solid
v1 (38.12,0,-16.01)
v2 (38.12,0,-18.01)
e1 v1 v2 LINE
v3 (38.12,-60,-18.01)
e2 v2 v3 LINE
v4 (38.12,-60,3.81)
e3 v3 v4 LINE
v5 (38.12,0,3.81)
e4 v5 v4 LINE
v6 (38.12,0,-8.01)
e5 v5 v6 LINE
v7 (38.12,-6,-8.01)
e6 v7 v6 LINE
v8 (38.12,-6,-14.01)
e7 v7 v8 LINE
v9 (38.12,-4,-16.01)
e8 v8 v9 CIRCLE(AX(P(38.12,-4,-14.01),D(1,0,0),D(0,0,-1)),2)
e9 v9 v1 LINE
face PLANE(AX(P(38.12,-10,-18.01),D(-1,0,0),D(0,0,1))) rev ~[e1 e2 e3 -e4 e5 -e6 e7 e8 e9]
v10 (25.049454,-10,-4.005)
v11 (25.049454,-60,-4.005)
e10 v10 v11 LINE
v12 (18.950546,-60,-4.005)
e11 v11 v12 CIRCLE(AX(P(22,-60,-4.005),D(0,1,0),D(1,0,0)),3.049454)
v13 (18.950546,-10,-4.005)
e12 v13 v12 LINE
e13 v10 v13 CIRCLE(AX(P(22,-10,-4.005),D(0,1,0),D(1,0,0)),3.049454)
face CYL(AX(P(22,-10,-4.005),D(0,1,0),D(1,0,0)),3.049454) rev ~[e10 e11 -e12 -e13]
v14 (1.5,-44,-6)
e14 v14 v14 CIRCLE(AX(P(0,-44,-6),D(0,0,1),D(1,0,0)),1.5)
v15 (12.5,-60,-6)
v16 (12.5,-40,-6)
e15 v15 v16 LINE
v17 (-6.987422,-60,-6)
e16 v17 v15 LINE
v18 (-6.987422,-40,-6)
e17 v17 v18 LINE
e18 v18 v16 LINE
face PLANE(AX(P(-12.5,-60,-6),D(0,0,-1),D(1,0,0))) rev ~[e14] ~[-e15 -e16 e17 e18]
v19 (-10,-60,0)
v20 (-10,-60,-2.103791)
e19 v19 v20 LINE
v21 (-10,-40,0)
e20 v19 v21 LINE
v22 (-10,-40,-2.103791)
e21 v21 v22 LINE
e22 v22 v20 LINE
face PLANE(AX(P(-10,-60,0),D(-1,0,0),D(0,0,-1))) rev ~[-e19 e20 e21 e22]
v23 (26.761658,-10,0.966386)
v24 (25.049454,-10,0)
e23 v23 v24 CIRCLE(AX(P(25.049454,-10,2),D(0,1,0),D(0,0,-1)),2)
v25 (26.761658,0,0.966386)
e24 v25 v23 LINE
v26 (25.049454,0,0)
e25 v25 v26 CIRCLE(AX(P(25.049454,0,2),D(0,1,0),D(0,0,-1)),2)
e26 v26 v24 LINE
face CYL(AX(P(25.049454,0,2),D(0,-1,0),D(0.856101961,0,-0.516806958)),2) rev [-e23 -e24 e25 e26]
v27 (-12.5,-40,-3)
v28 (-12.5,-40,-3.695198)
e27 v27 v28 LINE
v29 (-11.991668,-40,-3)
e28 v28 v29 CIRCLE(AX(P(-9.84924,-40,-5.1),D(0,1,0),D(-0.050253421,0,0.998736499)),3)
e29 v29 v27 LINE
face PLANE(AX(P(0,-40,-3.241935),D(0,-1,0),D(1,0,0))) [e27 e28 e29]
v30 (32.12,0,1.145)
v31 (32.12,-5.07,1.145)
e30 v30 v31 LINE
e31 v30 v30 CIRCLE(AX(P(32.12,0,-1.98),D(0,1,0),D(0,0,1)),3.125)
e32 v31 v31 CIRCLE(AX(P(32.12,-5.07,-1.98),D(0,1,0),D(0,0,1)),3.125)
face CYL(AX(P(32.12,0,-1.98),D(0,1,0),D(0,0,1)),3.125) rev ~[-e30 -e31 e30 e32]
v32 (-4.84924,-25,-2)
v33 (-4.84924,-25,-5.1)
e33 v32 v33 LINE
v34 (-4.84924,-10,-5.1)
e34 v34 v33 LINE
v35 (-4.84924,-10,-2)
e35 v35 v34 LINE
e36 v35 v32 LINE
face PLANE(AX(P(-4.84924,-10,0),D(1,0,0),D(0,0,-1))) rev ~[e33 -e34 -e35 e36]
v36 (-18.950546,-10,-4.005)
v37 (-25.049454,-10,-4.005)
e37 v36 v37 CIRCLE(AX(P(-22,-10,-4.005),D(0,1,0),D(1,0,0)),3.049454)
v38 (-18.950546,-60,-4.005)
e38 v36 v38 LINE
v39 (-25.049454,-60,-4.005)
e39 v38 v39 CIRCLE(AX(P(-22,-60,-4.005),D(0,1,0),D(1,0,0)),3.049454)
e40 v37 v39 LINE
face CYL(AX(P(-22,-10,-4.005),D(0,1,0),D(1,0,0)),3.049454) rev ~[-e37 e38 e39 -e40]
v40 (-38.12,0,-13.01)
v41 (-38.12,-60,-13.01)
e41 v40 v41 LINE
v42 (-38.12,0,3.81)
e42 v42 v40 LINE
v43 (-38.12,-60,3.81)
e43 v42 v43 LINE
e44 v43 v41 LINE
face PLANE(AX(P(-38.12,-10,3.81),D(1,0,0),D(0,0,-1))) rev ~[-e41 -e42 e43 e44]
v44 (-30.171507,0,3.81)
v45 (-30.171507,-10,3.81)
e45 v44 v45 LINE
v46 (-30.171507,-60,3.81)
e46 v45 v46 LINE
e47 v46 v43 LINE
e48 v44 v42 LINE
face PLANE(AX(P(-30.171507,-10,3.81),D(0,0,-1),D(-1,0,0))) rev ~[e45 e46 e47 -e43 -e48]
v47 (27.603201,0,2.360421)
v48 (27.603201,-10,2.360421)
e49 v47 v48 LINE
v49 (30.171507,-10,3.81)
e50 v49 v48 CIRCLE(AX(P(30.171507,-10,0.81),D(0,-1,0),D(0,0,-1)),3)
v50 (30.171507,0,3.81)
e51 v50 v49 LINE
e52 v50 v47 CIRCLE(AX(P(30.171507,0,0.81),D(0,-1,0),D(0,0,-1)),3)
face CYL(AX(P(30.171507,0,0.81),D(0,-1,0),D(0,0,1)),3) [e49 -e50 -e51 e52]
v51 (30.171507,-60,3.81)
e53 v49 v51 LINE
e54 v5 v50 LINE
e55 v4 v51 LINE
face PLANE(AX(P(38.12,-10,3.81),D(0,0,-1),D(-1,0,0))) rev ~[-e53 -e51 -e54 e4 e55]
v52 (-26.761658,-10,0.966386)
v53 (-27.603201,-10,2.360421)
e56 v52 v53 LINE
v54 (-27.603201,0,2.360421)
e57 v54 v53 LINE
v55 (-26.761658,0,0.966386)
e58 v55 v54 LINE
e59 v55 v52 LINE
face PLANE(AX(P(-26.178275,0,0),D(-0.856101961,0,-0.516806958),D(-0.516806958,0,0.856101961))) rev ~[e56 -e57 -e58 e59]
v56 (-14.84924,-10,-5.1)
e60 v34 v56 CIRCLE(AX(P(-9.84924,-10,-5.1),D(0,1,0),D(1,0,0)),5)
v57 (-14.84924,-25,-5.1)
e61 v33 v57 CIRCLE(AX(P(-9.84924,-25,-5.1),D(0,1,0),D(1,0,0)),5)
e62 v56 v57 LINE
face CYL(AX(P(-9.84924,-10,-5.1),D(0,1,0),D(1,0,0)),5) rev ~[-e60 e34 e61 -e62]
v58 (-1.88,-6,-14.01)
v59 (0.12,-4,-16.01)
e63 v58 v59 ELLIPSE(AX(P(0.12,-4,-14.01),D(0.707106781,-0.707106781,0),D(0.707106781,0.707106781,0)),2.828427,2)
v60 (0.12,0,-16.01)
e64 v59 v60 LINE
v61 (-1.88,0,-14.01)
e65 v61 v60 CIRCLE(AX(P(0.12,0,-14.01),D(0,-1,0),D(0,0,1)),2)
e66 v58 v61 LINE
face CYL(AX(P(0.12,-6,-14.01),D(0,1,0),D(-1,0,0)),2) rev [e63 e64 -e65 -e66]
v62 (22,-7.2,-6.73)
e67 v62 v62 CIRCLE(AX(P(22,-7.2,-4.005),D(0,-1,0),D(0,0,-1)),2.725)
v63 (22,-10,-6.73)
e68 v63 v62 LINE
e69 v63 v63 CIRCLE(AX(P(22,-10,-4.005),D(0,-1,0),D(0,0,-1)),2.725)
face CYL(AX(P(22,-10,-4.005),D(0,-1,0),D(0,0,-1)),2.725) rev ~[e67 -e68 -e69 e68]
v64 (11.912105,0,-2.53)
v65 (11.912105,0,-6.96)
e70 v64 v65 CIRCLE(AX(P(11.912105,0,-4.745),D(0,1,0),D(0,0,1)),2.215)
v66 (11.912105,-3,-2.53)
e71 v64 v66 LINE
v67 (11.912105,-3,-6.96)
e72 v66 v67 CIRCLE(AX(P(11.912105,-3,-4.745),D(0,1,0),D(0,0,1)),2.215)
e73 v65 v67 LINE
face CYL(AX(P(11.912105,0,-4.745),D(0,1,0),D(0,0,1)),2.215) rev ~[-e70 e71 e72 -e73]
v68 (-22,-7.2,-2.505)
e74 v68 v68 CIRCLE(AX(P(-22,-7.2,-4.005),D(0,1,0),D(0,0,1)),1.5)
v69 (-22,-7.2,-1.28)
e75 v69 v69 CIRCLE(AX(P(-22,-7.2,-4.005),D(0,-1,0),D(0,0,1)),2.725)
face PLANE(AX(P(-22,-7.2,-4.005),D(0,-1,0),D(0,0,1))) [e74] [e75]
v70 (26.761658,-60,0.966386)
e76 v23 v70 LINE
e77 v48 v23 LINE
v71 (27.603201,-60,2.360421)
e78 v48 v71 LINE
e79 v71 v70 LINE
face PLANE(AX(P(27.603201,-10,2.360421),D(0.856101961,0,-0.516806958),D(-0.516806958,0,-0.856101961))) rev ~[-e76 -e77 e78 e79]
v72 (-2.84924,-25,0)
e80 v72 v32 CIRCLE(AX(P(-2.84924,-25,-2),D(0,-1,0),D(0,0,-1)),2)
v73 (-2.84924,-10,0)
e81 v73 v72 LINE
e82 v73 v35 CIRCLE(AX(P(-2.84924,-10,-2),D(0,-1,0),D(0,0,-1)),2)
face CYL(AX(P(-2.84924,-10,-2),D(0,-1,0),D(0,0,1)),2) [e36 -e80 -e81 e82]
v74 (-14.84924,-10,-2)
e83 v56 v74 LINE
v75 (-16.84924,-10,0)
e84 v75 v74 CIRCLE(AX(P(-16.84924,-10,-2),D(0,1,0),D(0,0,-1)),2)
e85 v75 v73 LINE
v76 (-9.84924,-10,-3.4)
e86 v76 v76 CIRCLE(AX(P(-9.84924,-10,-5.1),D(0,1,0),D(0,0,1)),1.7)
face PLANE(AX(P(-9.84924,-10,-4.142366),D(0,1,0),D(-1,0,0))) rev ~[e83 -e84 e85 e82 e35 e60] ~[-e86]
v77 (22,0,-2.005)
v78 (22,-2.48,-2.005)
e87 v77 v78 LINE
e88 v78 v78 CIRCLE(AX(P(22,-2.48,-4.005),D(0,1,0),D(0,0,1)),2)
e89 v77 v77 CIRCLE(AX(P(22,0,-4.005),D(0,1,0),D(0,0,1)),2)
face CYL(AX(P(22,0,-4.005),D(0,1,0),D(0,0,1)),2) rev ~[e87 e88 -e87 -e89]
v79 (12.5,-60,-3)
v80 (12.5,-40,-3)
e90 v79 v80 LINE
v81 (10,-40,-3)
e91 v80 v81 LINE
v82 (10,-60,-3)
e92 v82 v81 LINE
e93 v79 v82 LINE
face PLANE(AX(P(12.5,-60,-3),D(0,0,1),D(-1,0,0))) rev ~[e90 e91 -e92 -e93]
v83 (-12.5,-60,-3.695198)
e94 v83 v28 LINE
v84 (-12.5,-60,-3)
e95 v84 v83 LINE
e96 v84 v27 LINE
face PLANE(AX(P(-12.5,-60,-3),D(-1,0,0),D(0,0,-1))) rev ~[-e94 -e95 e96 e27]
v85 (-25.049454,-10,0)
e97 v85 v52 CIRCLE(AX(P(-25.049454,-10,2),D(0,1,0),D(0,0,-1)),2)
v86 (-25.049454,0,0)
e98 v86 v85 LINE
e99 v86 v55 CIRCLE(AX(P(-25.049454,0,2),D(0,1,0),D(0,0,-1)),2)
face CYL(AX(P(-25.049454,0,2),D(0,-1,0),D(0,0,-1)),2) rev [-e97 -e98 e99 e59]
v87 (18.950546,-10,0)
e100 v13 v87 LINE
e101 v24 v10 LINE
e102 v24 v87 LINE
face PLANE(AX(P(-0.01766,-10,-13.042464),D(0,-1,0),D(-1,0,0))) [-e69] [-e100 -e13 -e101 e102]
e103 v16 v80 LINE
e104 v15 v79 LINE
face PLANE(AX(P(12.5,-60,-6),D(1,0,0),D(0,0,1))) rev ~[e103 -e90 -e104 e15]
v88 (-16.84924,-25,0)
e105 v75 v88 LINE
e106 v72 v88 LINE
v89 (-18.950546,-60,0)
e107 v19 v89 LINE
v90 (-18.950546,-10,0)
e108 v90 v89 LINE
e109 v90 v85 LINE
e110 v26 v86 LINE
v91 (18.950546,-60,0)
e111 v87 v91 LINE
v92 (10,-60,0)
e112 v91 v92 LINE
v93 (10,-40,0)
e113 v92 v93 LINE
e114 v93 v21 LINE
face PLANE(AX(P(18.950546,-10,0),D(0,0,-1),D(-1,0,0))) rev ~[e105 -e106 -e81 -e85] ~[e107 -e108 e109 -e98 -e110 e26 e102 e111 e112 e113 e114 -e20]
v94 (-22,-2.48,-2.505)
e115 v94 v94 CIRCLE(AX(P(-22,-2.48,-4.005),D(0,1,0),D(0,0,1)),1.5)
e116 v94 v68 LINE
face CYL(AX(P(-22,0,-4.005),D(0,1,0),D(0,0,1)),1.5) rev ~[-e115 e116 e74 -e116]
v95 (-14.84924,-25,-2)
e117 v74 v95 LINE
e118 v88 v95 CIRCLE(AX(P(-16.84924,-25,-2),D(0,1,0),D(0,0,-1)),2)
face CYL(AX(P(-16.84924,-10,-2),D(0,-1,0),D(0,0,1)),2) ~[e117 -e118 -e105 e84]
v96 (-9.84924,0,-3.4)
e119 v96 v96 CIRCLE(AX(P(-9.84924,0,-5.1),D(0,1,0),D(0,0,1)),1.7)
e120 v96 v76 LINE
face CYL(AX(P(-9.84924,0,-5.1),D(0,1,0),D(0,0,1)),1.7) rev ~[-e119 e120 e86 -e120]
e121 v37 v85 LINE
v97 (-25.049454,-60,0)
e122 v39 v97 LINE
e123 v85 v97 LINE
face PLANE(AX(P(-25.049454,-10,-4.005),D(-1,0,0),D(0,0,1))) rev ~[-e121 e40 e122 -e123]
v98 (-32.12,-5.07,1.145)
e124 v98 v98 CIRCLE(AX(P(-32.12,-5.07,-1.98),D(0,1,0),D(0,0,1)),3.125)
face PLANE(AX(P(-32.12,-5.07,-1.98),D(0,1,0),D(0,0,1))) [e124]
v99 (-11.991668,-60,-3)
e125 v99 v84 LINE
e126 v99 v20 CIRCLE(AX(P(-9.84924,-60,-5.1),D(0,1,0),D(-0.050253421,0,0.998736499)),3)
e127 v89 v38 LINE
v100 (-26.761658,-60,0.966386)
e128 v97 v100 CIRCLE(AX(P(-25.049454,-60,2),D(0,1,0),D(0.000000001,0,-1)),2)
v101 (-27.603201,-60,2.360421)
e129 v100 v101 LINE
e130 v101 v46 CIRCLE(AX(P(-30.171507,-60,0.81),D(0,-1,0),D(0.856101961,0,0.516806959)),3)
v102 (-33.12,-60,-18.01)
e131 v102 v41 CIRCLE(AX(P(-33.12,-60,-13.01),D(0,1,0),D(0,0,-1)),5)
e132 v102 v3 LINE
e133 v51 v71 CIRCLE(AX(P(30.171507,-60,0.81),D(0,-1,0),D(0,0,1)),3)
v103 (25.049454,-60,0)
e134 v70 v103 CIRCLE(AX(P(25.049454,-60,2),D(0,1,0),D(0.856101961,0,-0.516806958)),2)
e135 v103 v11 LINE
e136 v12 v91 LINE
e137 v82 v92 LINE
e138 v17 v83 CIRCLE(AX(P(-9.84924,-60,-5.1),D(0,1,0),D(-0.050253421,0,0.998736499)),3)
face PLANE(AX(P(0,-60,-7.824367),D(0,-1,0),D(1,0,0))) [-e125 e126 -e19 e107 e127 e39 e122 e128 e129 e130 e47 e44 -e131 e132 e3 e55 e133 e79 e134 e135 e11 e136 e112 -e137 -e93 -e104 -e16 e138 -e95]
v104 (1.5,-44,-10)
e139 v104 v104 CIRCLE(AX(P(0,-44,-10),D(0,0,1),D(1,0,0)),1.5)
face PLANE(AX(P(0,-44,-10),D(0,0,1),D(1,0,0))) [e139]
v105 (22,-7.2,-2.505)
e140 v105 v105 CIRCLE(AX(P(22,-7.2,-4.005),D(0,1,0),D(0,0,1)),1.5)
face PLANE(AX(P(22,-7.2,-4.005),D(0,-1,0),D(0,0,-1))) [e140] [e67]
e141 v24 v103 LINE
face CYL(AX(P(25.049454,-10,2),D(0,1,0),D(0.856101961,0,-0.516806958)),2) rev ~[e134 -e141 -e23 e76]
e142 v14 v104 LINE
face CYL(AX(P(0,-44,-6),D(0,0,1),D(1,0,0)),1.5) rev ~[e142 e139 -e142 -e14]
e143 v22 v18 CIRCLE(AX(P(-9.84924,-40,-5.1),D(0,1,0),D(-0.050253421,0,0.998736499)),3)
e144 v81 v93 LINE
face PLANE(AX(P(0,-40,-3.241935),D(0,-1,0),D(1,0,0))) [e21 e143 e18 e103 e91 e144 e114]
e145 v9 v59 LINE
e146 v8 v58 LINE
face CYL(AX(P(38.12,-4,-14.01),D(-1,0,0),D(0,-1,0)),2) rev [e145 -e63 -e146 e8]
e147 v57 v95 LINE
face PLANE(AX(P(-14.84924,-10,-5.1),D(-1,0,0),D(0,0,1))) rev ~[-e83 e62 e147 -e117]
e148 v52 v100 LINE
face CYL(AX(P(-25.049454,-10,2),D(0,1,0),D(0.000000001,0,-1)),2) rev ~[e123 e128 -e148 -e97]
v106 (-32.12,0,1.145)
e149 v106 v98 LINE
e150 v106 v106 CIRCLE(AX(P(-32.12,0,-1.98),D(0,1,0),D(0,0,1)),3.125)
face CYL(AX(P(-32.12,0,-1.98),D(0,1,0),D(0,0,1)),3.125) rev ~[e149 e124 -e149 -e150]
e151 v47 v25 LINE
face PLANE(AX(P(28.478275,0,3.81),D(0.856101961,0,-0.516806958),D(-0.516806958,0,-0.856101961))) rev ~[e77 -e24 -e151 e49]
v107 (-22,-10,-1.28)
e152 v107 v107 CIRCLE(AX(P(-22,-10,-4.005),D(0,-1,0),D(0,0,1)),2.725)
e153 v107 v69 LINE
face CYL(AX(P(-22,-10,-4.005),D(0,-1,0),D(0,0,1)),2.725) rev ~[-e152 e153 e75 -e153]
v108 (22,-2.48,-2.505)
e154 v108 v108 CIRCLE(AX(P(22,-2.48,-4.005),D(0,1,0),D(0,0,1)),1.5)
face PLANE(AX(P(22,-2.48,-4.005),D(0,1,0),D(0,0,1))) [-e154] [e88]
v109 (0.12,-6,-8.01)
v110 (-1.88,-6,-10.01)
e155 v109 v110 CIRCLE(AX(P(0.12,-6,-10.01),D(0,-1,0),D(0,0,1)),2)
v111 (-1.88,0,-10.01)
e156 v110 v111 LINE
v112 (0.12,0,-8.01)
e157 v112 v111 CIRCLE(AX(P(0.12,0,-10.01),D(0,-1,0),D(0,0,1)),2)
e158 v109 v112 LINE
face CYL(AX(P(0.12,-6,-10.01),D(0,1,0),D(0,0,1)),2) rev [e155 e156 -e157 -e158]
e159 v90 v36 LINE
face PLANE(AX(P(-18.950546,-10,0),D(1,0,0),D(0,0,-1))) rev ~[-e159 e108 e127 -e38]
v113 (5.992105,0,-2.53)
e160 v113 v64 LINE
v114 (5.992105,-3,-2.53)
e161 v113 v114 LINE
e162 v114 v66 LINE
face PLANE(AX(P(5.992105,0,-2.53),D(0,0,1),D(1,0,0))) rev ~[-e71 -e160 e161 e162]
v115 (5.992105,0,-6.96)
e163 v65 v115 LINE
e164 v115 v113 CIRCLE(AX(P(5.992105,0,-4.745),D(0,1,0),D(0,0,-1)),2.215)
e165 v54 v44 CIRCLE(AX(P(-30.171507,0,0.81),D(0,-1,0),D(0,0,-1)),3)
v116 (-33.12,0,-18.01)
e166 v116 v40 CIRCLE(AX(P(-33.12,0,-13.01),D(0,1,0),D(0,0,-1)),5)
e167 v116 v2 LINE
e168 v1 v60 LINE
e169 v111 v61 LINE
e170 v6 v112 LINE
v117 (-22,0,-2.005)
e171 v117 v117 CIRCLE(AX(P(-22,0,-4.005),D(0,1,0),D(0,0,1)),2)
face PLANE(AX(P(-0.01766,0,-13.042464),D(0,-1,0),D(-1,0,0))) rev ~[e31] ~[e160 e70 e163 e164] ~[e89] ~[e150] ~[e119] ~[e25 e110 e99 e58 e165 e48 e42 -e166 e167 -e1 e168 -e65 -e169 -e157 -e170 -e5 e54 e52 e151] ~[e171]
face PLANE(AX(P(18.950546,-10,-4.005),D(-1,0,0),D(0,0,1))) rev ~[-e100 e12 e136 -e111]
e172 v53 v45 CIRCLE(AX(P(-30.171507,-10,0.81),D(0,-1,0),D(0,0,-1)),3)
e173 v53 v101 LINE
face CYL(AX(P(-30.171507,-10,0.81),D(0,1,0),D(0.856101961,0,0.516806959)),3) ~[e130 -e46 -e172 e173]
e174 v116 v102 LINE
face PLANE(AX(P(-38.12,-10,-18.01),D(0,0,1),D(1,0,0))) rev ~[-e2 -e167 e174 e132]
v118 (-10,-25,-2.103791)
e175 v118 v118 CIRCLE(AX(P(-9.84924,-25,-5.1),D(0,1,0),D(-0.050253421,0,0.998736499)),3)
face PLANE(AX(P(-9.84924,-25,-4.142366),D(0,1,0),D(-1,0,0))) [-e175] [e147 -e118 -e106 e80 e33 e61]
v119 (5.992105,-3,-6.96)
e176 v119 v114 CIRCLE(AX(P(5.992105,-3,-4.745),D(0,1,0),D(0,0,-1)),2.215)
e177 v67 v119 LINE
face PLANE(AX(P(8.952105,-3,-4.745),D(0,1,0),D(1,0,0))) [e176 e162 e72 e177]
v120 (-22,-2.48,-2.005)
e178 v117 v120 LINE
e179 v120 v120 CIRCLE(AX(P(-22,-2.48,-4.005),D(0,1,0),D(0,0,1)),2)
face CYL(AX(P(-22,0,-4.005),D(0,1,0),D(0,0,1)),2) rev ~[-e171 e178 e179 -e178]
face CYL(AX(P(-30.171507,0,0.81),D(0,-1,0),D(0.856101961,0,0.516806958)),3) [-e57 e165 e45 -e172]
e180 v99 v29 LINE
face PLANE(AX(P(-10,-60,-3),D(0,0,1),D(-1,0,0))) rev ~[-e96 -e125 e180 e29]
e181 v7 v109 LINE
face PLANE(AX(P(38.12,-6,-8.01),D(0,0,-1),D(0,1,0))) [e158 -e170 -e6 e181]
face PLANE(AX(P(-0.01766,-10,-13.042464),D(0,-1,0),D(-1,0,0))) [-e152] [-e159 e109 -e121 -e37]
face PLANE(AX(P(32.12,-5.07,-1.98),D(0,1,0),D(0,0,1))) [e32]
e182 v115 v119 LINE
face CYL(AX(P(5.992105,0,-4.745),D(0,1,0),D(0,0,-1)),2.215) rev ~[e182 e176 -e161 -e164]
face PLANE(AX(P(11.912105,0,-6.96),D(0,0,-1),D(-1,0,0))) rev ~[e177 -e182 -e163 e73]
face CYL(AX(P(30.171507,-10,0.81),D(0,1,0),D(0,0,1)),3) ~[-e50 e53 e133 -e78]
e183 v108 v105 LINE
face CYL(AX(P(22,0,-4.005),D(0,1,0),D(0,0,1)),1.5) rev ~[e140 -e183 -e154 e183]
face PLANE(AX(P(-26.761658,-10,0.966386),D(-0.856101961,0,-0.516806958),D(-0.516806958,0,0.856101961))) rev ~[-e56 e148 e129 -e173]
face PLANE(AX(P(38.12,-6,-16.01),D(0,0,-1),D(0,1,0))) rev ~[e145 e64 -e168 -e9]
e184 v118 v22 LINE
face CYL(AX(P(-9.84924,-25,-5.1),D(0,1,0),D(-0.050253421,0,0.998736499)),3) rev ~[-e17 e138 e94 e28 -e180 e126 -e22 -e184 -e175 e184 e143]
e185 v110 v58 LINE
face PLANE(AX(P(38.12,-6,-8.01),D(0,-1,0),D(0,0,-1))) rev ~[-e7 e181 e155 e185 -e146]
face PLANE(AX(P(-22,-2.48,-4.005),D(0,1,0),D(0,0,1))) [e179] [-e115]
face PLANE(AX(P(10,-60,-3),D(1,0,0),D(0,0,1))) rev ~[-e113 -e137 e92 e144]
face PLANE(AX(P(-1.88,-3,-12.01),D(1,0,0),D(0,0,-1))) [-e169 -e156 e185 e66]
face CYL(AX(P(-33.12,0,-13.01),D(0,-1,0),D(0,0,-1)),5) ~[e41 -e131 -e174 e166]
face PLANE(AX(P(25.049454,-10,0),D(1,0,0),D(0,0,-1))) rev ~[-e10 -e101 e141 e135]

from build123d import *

# Parameters (mm, degrees)
SKETCH1_R           = 2
SKETCH1_R_2         = 3.125
SKETCH1_R_3         = 1.7
BOSS_EXTRUDE1_DEPTH = 10
FILLET2_R           = 3
FILLET1_R           = 2
SKETCH1_4_R         = 3.125
CUT_EXTRUDE3_DEPTH  = 5.07
SKETCH1_7_R         = 1.7
CUT_EXTRUDE6_DEPTH  = 10
CUT_EXTRUDE5_DEPTH  = 3
SKETCH1_5_R         = 2
CUT_EXTRUDE4_DEPTH  = 2.48
SKETCH4_R           = 1.5
CUT_EXTRUDE7_DEPTH  = 10
SKETCH5_R           = 2.725
CUT_EXTRUDE8_DEPTH  = 2.8
BOSS_EXTRUDE2_DEPTH = 10
BOSS_EXTRUDE3_DEPTH = 50
FILLET13_R          = 5
CUT_EXTRUDE14_DEPTH = 15
SKETCH10_W          = 8
SKETCH10_H          = 6
CUT_EXTRUDE12_DEPTH = 40
FILLET12_R          = 2
FILLET14_R          = 2
CUT_EXTRUDE17_DEPTH = 20
SKETCH19_R          = 1.5
CUT_EXTRUDE18_DEPTH = 4
CUT_EXTRUDE19_START = 35
SKETCH20_R          = 3
CUT_EXTRUDE19_DEPTH = 109.331401869


with BuildPart() as part:
    # Sketch1 → Boss-Extrude1 (new body)
    with BuildSketch(Plane(origin=(0, 0, 0), x_dir=(1, 0, 0), z_dir=(0, 1, 0))):
        with BuildLine():
            ThreePointArc((-11.409245094, 8.977987014), (-9.849239736, 9.28), (-8.289234378, 8.977987014))
            ThreePointArc((-8.289234378, 8.977987014), (-5.835653376, 8.254222737), (-3.289234378, 8.01))
            Line((-3.289234378, 8.01), (38.12, 8.01))
            Line((38.12, 8.01), (38.12, -3.81))
            Line((38.12, -3.81), (28.478275237, -3.81))
            Line((28.478275237, -3.81), (26.178275237, 0))
            Line((26.178275237, 0), (-26.178275237, 0))
            Line((-26.178275237, 0), (-28.478275237, -3.81))
            Line((-28.478275237, -3.81), (-38.12, -3.81))
            Line((-38.12, -3.81), (-38.12, 8.01))
            Line((-38.12, 8.01), (-16.409245094, 8.01))
            ThreePointArc((-16.409245094, 8.01), (-13.862826096, 8.254222737), (-11.409245094, 8.977987014))
        make_face()
        with Locations((22, 4.005)):
            Circle(SKETCH1_R, mode=Mode.SUBTRACT)
        with Locations((-22, 4.005)):
            Circle(SKETCH1_R, mode=Mode.SUBTRACT)
        with Locations((-32.12, 1.98)):
            Circle(SKETCH1_R_2, mode=Mode.SUBTRACT)
        with Locations((32.12, 1.98)):
            Circle(SKETCH1_R_2, mode=Mode.SUBTRACT)
        with Locations((-9.849239736, 5.1)):
            Circle(SKETCH1_R_3, mode=Mode.SUBTRACT)
        with BuildLine():
            ThreePointArc((11.912105026, 2.53), (14.127105026, 4.745), (11.912105026, 6.96))
            Line((11.912105026, 6.96), (5.992105026, 6.96))
            ThreePointArc((5.992105026, 6.96), (3.777105026, 4.745), (5.992105026, 2.53))
            Line((5.992105026, 2.53), (11.912105026, 2.53))
        make_face(mode=Mode.SUBTRACT)
        with Locations((-22, 4.005)):
            Circle(SKETCH1_R)
        with Locations((-9.849239736, 5.1)):
            Circle(SKETCH1_R_3)
        with Locations((-32.12, 1.98)):
            Circle(SKETCH1_R_2)
        with BuildLine():
            Line((5.992105026, 2.53), (11.912105026, 2.53))
            ThreePointArc((11.912105026, 2.53), (14.127105026, 4.745), (11.912105026, 6.96))
            Line((11.912105026, 6.96), (5.992105026, 6.96))
            ThreePointArc((5.992105026, 6.96), (3.777105026, 4.745), (5.992105026, 2.53))
        make_face()
        with Locations((22, 4.005)):
            Circle(SKETCH1_R)
        with Locations((32.12, 1.98)):
            Circle(SKETCH1_R_2)
    extrude(amount=-BOSS_EXTRUDE1_DEPTH)

    # Fillet2
    fillet2_edges = [part.edges().sort_by_distance(p)[0] for p in [
        (28.478275237, -5, 3.81),
        (-28.478275237, -5, 3.81),
    ]]
    fillet(fillet2_edges, radius=FILLET2_R)

    # Fillet1
    fillet1_edges = [part.edges().sort_by_distance(p)[0] for p in [
        (26.178275237, -5, 0),
        (-26.178275237, -5, 0),
    ]]
    fillet(fillet1_edges, radius=FILLET1_R)

    # Sketch1_4 → Cut-Extrude3 (cut)
    with BuildSketch(Plane(origin=(0, 0, 0), x_dir=(1, 0, 0), z_dir=(0, 1, 0))):
        with Locations(Location((32.12, 1.98, 0), (0, 0, 270))):
            Circle(SKETCH1_4_R)
        with Locations(Location((-32.12, 1.98, 0), (0, 0, 270))):
            Circle(SKETCH1_4_R)
    extrude(amount=-CUT_EXTRUDE3_DEPTH, mode=Mode.SUBTRACT)

    # Sketch1_7 → Cut-Extrude6 (cut)
    with BuildSketch(Plane(origin=(0, 0, 0), x_dir=(1, 0, 0), z_dir=(0, 1, 0))):
        with Locations(Location((-9.849239736, 5.1, 0), (0, 0, 270))):
            Circle(SKETCH1_7_R)
    extrude(amount=-CUT_EXTRUDE6_DEPTH, mode=Mode.SUBTRACT)

    # Sketch1_6 → Cut-Extrude5 (cut)
    with BuildSketch(Plane(origin=(0, 0, 0), x_dir=(1, 0, 0), z_dir=(0, 1, 0))):
        with BuildLine():
            Line((5.992105026, 2.53), (11.912105026, 2.53))
            ThreePointArc((11.912105026, 2.53), (14.127105026, 4.745), (11.912105026, 6.96))
            Line((11.912105026, 6.96), (5.992105026, 6.96))
            ThreePointArc((5.992105026, 6.96), (3.777105026, 4.745), (5.992105026, 2.53))
        make_face()
    extrude(amount=-CUT_EXTRUDE5_DEPTH, mode=Mode.SUBTRACT)

    # Sketch1_5 → Cut-Extrude4 (cut)
    with BuildSketch(Plane(origin=(0, 0, 0), x_dir=(1, 0, 0), z_dir=(0, 1, 0))):
        with Locations(Location((-22, 4.005, 0), (0, 0, 270))):
            Circle(SKETCH1_5_R)
        with Locations(Location((22, 4.005, 0), (0, 0, 270))):
            Circle(SKETCH1_5_R)
    extrude(amount=-CUT_EXTRUDE4_DEPTH, mode=Mode.SUBTRACT)

    # Sketch4 → Cut-Extrude7 (cut)
    with BuildSketch(Plane(origin=(0, 0, 0), x_dir=(1, 0, 0), z_dir=(0, 1, 0))):
        with Locations(Location((-22, 4.005, 0), (0, 0, 270))):
            Circle(SKETCH4_R)
        with Locations(Location((22, 4.005, 0), (0, 0, 270))):
            Circle(SKETCH4_R)
    extrude(amount=-CUT_EXTRUDE7_DEPTH, mode=Mode.SUBTRACT)

    # Sketch5 → Cut-Extrude8 (cut)
    with BuildSketch(Plane.XZ.offset(10)):
        with Locations(Location((22, -4.005, 0), (0, 0, 270))):
            Circle(SKETCH5_R)
        with Locations(Location((-22, -4.005, 0), (0, 0, 90))):
            Circle(SKETCH5_R)
    extrude(amount=-CUT_EXTRUDE8_DEPTH, mode=Mode.SUBTRACT)

    # Sketch6 → Boss-Extrude2 (add)
    with BuildSketch(Plane(origin=(0, 0, 0), x_dir=(1, 0, 0), z_dir=(0, 1, 0))):
        with BuildLine():
            Line((-38.12, 8.01), (-38.12, 18.01))
            Line((-38.12, 18.01), (38.12, 18.01))
            Line((38.12, 18.01), (38.12, 8.01))
            Line((38.12, 8.01), (-3.289234378, 8.01))
            ThreePointArc((-3.289234378, 8.01), (-5.835653376, 8.254222737), (-8.289234378, 8.977987014))
            ThreePointArc((-8.289234378, 8.977987014), (-9.849239736, 9.28), (-11.409245094, 8.977987014))
            ThreePointArc((-11.409245094, 8.977987014), (-13.862826096, 8.254222737), (-16.409245094, 8.01))
            Line((-16.409245094, 8.01), (-38.12, 8.01))
        make_face()
    extrude(amount=-BOSS_EXTRUDE2_DEPTH)

    # Sketch8 → Boss-Extrude3 (add)
    with BuildSketch(Plane.XZ.offset(10)):
        with BuildLine():
            Line((18.950546011, 0), (-18.950546011, 0))
            Line((-18.950546011, 0), (-18.950546011, -4.005))
            ThreePointArc((-18.950546011, -4.005), (-22, -7.054453989), (-25.049453989, -4.005))
            Line((-25.049453989, -4.005), (-25.049453989, 0))
            ThreePointArc((-25.049453989, 0), (-26.032503369, 0.25827272), (-26.761657912, 0.966386084))
            Line((-26.761657912, 0.966386084), (-27.603201224, 2.360420875))
            ThreePointArc((-27.603201224, 2.360420875), (-28.696933037, 3.422590919), (-30.171507108, 3.81))
            Line((-30.171507108, 3.81), (-38.12, 3.81))
            Line((-38.12, 3.81), (-38.12, -18.01))
            Line((-38.12, -18.01), (38.12, -18.01))
            Line((38.12, -18.01), (38.12, 3.81))
            Line((38.12, 3.81), (30.171507108, 3.81))
            ThreePointArc((30.171507108, 3.81), (28.696933037, 3.422590919), (27.603201224, 2.360420875))
            Line((27.603201224, 2.360420875), (26.761657912, 0.966386084))
            ThreePointArc((26.761657912, 0.966386084), (26.032503369, 0.25827272), (25.049453989, 0))
            Line((25.049453989, 0), (25.049453989, -4.005))
            ThreePointArc((25.049453989, -4.005), (22, -7.054453989), (18.950546011, -4.005))
            Line((18.950546011, -4.005), (18.950546011, 0))
        make_face()
    extrude(amount=BOSS_EXTRUDE3_DEPTH)

    # Fillet13
    fillet13_edges = [part.edges().sort_by_distance(p)[0] for p in [
        (-38.12, -30, -18.01),
    ]]
    fillet(fillet13_edges, radius=FILLET13_R)

    # Sketch8_3 → Cut-Extrude14 (cut)
    with BuildSketch(Plane.XZ.offset(10)):
        with BuildLine():
            Line((-4.849239736, 0), (-4.849239736, -5.1))
            ThreePointArc((-4.849239736, -5.1), (-9.849239736, -10.1), (-14.849239736, -5.1))
            Line((-14.849239736, -5.1), (-14.849239736, 0))
            Line((-14.849239736, 0), (-4.849239736, 0))
        make_face()
    extrude(amount=CUT_EXTRUDE14_DEPTH, mode=Mode.SUBTRACT)

    # Sketch10 → Cut-Extrude12 (cut)
    with BuildSketch(Plane(origin=(38.12, 0, 0), x_dir=(0, 0, -1), z_dir=(1, 0, 0))):
        with Locations((12.01, -3)):
            Rectangle(SKETCH10_W, SKETCH10_H)
    extrude(amount=-CUT_EXTRUDE12_DEPTH, mode=Mode.SUBTRACT)

    # Fillet12
    fillet12_edges = [part.edges().sort_by_distance(p)[0] for p in [
        (-4.849239736, -17.5, 0),
        (-14.849239736, -17.5, 0),
    ]]
    fillet(fillet12_edges, radius=FILLET12_R)

    # Fillet14
    fillet14_edges = [part.edges().sort_by_distance(p)[0] for p in [
        (-1.88, -3, -16.01),
        (18.12, -6, -16.01),
        (-1.88, -3, -8.01),
    ]]
    fillet(fillet14_edges, radius=FILLET14_R)

    # Sketch18 → Cut-Extrude17 (cut)
    with BuildSketch(Plane.XZ.offset(60)):
        Polygon((-10, 0), (-10, -3), (-12.5, -3), (-12.5, -6), (12.5, -6), (12.5, -3), (10, -3), (10, 0), align=None)
    extrude(amount=-CUT_EXTRUDE17_DEPTH, mode=Mode.SUBTRACT)

    # Sketch19 → Cut-Extrude18 (cut)
    with BuildSketch(Plane.XY.offset(-6)):
        with Locations((0, -44)):
            Circle(SKETCH19_R)
    extrude(amount=-CUT_EXTRUDE18_DEPTH, mode=Mode.SUBTRACT)

    # Sketch20 → Cut-Extrude19 (cut, through all)
    with BuildSketch(Plane(origin=(0, -60, 0), x_dir=(1, 0, 0), z_dir=(0, 1, 0)).offset(CUT_EXTRUDE19_START)):
        with Locations(Location((-9.849239736, 5.1, 0), (0, 0, 267.119477763))):
            Circle(SKETCH20_R)
    extrude(amount=-CUT_EXTRUDE19_DEPTH, mode=Mode.SUBTRACT)


solid = part.part
